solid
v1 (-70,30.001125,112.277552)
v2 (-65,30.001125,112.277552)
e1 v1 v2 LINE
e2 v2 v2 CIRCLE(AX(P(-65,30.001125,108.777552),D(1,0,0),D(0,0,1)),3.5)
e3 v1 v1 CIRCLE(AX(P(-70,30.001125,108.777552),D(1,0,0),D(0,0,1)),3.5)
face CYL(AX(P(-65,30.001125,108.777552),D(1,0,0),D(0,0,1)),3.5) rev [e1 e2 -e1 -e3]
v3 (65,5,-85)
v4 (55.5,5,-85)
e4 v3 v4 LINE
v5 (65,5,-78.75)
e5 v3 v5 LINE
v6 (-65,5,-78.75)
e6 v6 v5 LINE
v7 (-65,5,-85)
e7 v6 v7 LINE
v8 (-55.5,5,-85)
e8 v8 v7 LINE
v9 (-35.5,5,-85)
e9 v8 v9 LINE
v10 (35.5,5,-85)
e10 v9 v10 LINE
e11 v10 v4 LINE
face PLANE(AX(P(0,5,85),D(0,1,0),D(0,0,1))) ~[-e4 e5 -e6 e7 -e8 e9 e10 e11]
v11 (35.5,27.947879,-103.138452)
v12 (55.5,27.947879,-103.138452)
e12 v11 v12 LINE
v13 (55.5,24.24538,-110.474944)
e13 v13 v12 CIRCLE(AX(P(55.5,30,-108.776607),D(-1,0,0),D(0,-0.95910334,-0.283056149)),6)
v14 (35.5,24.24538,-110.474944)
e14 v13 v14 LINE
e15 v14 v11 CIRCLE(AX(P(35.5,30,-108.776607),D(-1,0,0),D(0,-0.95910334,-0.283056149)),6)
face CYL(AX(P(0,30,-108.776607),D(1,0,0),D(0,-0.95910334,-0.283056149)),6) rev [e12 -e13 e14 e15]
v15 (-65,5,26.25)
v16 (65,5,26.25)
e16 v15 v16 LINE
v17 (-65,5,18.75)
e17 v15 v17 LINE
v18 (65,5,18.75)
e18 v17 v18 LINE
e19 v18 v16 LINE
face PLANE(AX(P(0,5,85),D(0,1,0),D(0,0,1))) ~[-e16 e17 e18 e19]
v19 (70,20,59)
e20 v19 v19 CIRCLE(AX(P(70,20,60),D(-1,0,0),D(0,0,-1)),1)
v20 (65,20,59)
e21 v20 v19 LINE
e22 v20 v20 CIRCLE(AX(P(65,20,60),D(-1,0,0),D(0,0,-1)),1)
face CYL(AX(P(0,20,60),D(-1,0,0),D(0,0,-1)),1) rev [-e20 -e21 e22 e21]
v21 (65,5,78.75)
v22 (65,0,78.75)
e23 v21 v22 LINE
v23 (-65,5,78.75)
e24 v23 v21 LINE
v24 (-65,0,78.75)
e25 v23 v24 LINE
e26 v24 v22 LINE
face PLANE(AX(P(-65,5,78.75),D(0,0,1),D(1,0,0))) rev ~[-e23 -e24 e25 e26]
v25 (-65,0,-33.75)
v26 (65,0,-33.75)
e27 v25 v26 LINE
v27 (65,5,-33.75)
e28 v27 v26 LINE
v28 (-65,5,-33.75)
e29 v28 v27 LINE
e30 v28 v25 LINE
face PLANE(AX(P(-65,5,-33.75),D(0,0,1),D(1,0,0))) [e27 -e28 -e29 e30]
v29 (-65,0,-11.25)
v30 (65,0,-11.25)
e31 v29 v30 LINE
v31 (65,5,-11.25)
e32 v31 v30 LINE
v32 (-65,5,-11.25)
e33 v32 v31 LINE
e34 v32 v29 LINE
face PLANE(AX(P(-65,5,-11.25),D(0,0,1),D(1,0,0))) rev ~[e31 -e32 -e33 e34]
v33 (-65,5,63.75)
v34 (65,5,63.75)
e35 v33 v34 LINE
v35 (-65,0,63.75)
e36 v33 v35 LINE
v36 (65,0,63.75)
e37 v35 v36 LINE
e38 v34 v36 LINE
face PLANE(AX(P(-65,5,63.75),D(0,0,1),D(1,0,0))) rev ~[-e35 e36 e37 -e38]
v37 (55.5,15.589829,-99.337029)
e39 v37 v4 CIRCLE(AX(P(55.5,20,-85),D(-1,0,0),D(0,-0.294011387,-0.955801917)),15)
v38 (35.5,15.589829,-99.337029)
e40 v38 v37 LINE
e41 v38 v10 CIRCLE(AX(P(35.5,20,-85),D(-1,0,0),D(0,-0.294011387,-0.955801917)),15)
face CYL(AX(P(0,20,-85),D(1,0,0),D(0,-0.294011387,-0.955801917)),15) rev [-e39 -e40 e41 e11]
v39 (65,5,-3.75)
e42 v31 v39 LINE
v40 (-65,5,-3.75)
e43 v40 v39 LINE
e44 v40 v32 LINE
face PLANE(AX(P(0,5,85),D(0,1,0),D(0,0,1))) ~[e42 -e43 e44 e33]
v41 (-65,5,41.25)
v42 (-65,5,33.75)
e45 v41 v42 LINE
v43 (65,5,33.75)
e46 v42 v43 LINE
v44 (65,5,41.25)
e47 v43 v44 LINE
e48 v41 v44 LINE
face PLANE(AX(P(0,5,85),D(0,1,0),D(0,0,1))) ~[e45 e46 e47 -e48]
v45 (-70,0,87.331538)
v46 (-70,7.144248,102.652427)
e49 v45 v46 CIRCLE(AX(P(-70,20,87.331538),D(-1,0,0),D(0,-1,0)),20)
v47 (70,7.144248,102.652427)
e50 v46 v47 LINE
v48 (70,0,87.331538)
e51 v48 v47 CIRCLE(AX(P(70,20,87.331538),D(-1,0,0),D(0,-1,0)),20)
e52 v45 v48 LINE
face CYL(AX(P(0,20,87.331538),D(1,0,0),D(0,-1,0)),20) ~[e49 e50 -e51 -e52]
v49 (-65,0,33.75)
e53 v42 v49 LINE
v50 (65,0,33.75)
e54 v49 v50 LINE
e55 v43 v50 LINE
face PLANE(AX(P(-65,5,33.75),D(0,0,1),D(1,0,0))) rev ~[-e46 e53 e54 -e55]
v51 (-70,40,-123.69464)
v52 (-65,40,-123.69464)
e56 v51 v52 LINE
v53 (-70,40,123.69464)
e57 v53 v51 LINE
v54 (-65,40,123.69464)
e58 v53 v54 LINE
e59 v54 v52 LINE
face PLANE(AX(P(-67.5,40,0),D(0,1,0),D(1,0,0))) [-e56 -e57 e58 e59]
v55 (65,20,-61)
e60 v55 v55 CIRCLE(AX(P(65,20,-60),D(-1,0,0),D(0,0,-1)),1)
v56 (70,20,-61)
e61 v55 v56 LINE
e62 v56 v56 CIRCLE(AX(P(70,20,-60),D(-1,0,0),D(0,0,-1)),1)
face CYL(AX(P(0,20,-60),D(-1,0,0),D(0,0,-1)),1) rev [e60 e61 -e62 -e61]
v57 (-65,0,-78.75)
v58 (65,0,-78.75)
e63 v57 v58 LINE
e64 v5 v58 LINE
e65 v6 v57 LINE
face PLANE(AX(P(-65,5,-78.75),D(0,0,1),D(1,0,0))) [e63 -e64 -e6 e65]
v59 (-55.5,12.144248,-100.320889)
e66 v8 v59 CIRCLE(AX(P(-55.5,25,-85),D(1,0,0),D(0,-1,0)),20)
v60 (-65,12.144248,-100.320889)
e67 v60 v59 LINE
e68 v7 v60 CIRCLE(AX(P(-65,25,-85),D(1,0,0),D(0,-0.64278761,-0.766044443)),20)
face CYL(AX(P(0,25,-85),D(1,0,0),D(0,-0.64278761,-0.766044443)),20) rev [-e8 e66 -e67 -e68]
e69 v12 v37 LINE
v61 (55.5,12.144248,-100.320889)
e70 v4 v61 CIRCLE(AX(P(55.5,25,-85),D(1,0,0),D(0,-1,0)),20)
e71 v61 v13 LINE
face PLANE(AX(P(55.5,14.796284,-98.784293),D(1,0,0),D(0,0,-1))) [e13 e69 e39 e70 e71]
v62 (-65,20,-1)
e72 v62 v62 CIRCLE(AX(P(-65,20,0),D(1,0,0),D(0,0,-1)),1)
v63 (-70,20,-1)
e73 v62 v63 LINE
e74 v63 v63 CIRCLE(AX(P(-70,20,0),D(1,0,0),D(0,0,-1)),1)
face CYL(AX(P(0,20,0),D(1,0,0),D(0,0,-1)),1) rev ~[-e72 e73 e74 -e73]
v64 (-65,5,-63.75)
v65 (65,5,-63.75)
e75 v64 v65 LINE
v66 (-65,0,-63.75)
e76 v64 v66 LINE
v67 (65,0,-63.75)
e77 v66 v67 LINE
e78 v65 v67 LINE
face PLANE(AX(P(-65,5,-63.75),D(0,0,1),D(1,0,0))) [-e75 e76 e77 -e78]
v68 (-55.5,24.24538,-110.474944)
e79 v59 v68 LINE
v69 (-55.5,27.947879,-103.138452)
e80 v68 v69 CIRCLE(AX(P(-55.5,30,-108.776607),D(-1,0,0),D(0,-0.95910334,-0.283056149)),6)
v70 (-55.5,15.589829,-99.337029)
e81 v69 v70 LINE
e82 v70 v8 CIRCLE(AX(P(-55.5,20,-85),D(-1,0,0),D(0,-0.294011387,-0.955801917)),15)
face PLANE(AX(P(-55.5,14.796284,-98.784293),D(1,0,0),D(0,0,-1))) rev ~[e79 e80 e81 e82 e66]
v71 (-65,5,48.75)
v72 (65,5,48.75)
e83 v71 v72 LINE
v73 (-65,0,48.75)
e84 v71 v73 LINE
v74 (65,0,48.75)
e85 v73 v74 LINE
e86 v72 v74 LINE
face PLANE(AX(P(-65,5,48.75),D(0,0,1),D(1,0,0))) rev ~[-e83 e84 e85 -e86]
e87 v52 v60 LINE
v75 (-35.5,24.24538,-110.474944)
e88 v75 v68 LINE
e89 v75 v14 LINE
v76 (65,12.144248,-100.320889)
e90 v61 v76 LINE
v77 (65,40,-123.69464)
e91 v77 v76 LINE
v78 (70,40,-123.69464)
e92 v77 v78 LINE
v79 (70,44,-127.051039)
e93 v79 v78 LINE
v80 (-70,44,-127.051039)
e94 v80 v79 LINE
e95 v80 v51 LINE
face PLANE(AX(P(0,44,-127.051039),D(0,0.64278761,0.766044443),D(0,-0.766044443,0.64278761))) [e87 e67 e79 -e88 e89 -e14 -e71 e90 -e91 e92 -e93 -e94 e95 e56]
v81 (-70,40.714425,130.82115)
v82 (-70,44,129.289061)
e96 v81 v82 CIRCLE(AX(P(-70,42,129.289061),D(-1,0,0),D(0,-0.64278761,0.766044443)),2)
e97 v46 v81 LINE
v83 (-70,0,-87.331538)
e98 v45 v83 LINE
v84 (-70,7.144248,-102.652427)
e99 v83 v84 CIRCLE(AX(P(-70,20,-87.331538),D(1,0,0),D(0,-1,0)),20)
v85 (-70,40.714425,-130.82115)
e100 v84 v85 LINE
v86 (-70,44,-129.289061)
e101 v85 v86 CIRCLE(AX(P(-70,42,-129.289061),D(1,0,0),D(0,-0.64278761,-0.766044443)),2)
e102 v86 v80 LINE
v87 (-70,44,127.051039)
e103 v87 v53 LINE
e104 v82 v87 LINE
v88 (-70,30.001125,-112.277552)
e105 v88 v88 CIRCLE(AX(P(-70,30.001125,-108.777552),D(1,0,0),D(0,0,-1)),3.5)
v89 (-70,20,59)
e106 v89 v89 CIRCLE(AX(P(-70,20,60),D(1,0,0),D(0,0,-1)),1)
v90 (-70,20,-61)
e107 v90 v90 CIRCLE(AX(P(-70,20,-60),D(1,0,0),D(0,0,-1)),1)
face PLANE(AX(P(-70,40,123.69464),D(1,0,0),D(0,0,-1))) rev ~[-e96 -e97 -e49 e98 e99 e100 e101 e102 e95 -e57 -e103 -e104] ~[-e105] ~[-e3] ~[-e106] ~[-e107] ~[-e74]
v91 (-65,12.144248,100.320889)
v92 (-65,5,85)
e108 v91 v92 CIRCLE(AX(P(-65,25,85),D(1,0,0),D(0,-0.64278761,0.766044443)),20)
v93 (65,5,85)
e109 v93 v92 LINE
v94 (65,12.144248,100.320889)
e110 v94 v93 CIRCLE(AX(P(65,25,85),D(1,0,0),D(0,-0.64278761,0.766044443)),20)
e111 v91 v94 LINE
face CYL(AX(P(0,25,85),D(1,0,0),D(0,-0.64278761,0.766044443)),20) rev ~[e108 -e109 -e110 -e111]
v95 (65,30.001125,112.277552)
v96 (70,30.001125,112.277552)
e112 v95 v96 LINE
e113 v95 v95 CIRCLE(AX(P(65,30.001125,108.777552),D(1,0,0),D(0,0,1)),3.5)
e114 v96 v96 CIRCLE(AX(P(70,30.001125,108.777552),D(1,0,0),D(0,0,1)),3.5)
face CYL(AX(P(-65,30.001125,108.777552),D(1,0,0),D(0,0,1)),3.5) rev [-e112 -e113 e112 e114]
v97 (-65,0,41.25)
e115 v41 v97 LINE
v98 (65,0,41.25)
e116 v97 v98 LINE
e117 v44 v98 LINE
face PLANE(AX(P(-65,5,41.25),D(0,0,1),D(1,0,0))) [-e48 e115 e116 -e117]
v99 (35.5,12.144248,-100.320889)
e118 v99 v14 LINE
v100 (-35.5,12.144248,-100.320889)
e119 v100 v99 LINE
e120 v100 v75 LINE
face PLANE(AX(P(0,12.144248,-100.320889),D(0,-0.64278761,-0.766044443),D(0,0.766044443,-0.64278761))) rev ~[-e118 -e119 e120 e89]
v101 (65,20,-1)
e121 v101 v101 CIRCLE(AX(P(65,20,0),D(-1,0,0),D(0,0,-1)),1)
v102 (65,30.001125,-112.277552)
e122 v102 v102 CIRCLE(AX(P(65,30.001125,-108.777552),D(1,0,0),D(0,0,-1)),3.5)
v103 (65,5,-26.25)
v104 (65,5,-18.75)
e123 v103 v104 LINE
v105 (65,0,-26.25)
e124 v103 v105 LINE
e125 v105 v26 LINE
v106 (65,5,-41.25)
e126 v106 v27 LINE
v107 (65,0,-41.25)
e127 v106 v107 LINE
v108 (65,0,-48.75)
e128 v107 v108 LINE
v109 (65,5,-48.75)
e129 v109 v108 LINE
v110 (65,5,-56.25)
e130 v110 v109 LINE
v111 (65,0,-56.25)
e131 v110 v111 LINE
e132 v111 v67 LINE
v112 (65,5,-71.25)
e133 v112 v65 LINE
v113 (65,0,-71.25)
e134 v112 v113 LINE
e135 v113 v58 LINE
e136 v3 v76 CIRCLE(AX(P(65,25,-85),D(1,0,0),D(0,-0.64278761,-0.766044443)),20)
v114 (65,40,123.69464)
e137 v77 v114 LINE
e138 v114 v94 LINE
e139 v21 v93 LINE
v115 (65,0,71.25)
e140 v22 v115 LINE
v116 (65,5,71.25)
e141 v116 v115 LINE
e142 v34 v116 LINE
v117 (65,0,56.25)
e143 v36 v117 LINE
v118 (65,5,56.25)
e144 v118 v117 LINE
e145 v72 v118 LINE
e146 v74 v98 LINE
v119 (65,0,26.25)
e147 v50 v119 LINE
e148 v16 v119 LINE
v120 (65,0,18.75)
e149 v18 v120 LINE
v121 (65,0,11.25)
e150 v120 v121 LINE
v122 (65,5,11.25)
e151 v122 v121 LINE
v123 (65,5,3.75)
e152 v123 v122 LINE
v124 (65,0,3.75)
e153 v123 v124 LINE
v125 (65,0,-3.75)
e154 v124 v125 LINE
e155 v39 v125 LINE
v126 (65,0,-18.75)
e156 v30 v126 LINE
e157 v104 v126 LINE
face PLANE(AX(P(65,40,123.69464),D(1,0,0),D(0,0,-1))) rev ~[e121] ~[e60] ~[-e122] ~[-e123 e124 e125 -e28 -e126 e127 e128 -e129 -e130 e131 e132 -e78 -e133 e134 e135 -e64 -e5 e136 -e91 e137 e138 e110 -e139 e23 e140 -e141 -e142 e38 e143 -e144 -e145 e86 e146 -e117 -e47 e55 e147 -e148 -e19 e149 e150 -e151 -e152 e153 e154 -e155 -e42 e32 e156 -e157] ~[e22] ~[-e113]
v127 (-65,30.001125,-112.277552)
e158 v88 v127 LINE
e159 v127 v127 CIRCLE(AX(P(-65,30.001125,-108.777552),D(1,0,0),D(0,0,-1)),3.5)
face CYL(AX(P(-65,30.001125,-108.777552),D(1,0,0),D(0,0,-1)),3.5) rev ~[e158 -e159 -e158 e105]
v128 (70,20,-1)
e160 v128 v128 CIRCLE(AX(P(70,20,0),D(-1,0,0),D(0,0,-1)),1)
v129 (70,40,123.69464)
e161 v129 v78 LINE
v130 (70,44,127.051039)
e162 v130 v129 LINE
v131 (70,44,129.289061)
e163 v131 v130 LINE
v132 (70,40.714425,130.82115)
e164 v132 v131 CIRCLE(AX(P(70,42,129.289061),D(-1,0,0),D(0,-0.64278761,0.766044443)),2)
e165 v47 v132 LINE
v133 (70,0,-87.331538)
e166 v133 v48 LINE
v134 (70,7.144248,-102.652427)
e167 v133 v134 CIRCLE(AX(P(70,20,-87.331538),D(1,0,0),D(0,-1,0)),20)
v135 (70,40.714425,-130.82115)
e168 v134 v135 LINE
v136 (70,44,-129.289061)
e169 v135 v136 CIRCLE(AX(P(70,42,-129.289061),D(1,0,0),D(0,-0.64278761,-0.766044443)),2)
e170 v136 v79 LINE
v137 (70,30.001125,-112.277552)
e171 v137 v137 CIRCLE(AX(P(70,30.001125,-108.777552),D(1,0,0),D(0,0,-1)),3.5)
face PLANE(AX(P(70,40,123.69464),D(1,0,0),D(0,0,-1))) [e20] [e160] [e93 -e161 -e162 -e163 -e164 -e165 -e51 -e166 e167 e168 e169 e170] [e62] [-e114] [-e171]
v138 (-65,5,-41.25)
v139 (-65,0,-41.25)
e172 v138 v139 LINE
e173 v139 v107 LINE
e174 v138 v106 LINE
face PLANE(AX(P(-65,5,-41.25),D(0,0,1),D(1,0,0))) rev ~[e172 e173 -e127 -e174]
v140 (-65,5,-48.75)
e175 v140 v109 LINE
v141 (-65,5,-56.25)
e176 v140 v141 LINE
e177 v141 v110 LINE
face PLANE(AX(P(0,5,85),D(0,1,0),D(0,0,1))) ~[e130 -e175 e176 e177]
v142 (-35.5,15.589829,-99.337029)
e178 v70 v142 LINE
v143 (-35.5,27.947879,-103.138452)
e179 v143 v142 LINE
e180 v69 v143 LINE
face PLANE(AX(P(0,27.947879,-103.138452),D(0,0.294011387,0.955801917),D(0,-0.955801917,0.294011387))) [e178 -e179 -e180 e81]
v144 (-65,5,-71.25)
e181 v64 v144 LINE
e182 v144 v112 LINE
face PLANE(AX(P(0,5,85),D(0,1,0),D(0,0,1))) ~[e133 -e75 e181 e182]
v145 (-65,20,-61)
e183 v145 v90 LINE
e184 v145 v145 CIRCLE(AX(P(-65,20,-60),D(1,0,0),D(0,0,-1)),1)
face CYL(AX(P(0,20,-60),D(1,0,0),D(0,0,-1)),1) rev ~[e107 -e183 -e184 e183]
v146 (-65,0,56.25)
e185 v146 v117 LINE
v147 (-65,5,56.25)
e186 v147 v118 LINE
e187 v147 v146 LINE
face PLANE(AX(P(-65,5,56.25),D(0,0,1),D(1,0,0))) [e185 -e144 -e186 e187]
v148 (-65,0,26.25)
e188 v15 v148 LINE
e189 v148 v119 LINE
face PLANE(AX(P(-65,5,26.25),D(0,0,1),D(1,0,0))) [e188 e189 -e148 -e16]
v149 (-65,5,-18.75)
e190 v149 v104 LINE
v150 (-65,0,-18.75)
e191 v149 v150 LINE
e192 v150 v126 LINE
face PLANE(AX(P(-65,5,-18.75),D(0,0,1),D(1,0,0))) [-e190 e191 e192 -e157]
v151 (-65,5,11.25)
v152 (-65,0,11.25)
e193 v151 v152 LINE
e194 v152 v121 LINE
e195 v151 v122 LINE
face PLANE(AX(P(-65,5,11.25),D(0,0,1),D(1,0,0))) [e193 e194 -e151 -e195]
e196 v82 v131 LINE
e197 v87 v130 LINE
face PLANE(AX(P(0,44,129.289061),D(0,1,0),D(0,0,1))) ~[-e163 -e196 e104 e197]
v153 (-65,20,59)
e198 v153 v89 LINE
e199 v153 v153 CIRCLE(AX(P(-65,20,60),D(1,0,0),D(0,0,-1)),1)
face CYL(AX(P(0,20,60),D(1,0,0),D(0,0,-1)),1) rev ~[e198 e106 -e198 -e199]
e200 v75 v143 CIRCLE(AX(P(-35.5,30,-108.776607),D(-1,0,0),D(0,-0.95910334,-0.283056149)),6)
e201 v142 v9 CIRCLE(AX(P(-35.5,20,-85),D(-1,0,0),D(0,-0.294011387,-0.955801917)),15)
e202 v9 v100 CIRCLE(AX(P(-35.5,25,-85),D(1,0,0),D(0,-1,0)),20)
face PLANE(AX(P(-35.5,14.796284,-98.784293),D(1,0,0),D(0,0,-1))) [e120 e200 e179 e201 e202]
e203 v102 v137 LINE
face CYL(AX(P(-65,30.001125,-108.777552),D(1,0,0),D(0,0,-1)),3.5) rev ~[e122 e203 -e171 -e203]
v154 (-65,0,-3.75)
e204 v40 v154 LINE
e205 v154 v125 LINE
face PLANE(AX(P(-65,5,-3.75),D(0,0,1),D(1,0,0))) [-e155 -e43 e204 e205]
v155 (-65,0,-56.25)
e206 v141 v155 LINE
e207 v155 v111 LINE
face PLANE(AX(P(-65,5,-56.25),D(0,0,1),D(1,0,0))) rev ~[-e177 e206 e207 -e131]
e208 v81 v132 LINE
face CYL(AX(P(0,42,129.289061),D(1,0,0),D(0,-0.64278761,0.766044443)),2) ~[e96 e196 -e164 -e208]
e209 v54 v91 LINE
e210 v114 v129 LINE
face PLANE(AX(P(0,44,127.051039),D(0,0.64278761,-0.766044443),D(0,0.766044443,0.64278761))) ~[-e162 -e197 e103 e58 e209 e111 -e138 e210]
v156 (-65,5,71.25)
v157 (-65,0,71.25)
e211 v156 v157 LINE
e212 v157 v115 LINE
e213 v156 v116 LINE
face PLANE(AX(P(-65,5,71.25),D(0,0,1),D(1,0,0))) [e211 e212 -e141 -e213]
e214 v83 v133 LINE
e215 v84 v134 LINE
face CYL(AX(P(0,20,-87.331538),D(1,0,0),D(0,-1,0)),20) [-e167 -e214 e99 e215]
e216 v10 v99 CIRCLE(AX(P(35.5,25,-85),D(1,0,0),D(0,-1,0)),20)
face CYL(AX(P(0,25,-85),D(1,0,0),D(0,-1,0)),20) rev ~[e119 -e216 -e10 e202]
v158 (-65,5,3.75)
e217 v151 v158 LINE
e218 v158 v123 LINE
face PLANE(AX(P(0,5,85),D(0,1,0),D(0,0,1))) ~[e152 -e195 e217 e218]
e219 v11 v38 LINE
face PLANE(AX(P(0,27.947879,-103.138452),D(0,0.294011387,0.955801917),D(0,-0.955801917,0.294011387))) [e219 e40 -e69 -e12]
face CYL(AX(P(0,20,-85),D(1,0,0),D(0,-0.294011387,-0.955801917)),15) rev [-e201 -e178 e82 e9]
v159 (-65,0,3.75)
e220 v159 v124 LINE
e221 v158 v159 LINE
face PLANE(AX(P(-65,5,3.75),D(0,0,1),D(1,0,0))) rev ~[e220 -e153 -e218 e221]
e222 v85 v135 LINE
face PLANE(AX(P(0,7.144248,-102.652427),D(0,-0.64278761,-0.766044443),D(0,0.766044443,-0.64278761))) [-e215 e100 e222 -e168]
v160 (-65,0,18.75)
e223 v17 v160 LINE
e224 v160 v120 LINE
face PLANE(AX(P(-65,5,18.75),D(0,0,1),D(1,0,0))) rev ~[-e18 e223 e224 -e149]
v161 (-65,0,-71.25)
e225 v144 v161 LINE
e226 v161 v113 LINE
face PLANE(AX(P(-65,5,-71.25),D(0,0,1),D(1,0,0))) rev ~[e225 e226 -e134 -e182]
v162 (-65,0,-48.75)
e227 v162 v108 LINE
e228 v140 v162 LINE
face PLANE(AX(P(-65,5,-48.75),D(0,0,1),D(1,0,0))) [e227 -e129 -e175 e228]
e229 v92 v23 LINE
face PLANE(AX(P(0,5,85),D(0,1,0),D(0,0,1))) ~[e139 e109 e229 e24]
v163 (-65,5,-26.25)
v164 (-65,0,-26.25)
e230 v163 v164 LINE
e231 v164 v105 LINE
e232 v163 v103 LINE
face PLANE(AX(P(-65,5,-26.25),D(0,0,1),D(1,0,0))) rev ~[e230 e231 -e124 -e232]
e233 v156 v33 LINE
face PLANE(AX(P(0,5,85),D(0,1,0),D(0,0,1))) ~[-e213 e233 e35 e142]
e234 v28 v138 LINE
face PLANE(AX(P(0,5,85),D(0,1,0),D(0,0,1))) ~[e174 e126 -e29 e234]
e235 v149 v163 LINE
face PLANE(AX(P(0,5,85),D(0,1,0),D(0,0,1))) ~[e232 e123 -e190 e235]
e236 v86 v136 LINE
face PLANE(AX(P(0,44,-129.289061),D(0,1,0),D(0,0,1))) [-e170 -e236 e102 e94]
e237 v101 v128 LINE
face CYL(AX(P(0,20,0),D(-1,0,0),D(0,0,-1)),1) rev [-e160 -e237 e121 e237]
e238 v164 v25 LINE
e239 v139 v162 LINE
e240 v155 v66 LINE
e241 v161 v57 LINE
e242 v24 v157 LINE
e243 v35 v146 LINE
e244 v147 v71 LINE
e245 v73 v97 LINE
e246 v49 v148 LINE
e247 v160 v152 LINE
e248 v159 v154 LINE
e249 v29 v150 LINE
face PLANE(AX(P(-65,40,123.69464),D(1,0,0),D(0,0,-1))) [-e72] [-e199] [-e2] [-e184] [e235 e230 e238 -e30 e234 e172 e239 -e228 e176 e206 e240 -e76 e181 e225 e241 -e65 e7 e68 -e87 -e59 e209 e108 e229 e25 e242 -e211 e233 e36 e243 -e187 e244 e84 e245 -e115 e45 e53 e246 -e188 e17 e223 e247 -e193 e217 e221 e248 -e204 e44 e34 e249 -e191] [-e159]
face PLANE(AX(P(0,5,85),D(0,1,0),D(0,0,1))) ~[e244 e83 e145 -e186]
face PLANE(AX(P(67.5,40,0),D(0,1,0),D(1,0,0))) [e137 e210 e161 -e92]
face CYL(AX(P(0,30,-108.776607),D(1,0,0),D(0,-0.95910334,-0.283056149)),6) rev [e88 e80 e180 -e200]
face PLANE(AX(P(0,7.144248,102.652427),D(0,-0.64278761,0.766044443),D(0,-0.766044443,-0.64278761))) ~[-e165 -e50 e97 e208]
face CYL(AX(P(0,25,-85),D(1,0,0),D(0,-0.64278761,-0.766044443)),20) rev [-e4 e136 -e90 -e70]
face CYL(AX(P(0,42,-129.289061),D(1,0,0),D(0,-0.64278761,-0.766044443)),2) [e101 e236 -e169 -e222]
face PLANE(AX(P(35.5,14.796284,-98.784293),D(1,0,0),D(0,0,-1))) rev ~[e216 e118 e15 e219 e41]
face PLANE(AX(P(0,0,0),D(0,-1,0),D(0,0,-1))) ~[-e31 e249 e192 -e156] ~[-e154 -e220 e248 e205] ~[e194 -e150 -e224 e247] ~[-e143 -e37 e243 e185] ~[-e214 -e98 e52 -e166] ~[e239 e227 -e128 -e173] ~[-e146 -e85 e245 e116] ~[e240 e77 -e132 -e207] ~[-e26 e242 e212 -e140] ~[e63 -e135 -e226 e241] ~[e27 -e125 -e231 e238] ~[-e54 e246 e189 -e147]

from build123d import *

# Parameters (mm, degrees)
BOSS_EXTRUDE4_DEPTH          = 70
BOSS_EXTRU_5_DEPTH           = 55.5
BOSS_EXTRU_5_DEPTH_BACK      = 55.5
ENL_V_MAT_EXTRU_3_DEPTH      = 35.5
ENL_V_MAT_EXTRU_3_DEPTH_BACK = 35.5
BOSS_EXTRU_3_REACH           = 156.068
ESQUISSE9_W                  = 5
ESQUISSE9_H                  = 247.389280508
ESQUISSE8_R                  = 1
ENL_V_MAT_EXTRU_1_DEPTH      = 156.154173773
ENL_V_MAT_EXTRU_1_DEPTH_BACK = 156.154173773
ESQUISSE17_W                 = 130
ESQUISSE17_H                 = 7.5
ENL_V_MAT_EXTRU_2_DEPTH      = 154.81098023
ENL_V_MAT_EXTRU_2_DEPTH_BACK = 154.81098023
ESQUISSE19_R                 = 3.5
ENL_V_MAT_EXTRU_4_DEPTH      = 194.385153616


with BuildPart() as part:
    # Sketch4 → Boss-Extrude4 (new, symmetric)
    with BuildSketch(Plane(origin=(0, 0, 0), x_dir=(0, 0, -1), z_dir=(1, 0, 0))):
        with BuildLine():
            Line((0, 0), (87.331538291, 0))
            ThreePointArc((87.331538291, 0), (95.783903526, 1.873844259), (102.652427153, 7.144247806))
            Line((102.652427153, 7.144247806), (130.821150271, 40.714424781))
            ThreePointArc((130.821150271, 40.714424781), (131.101676959, 42.845236523), (129.289061385, 44))
            Line((129.289061385, 44), (127.051038779, 44))
            Line((127.051038779, 44), (100.320888862, 12.144247806))
            ThreePointArc((100.320888862, 12.144247806), (93.452365235, 6.873844259), (85, 5))
            Line((85, 5), (0, 5))
            Line((0, 5), (0, 0))
        make_face()
    boss_extrude4 = extrude(amount=BOSS_EXTRUDE4_DEPTH, both=True)

    # Esquisse15 → Boss.-Extru.5 (add, two sides)
    with BuildSketch(Plane(origin=(0, 0, 0), x_dir=(0, 0, -1), z_dir=(1, 0, 0))) as boss_extru_5_sk:
        with BuildLine():
            Line((100.320888862, 12.144247806), (110.47494439, 24.245379961))
            ThreePointArc((110.47494439, 24.245379961), (106.073337597, 24.643477634), (103.138451771, 27.94787914))
            Line((103.138451771, 27.94787914), (99.337028752, 15.589829192))
            ThreePointArc((99.337028752, 15.589829192), (93.911998594, 7.934500381), (85, 5))
            ThreePointArc((85, 5), (93.452365235, 6.873844259), (100.320888862, 12.144247806))
        make_face()
    extrude(amount=BOSS_EXTRU_5_DEPTH)
    extrude(boss_extru_5_sk.sketch, amount=-BOSS_EXTRU_5_DEPTH_BACK)

    # Esquisse18 → Enlèv. mat.-Extru.3 (cut, two sides)
    with BuildSketch(Plane(origin=(0, 0, 0), x_dir=(0, 0, -1), z_dir=(1, 0, 0))) as enl_v_mat_extru_3_sk:
        with BuildLine():
            Line((100.320888862, 12.144247806), (110.47494439, 24.245379961))
            ThreePointArc((110.47494439, 24.245379961), (106.073337597, 24.643477634), (103.138451771, 27.94787914))
            Line((103.138451771, 27.94787914), (99.337028752, 15.589829192))
            ThreePointArc((99.337028752, 15.589829192), (93.911998594, 7.934500381), (85, 5))
            ThreePointArc((85, 5), (93.452365235, 6.873844259), (100.320888862, 12.144247806))
        make_face()
    extrude(amount=ENL_V_MAT_EXTRU_3_DEPTH, mode=Mode.SUBTRACT)
    extrude(enl_v_mat_extru_3_sk.sketch, amount=-ENL_V_MAT_EXTRU_3_DEPTH_BACK, mode=Mode.SUBTRACT)

    # Mirror2: Boss-Extrude4 across plane
    add(boss_extrude4.mirror(Plane(origin=(70, 5, 0), x_dir=(1, 0, 0), z_dir=(0, 0, -1))))

    # Esquisse9 → Boss.-Extru.3 (add, up to next)
    with BuildSketch(Plane(origin=(0, 40, 0), x_dir=(1, 0, 0), z_dir=(0, 1, 0)), mode=Mode.PRIVATE) as boss_extru_3_sk1:
        with Locations((67.5, 0)):
            Rectangle(ESQUISSE9_W, ESQUISSE9_H)
    boss_extru_3_tool1 = extrude(boss_extru_3_sk1.sketch, amount=-BOSS_EXTRU_3_REACH, mode=Mode.PRIVATE) - part.part
    # Esquisse9 → Boss.-Extru.3 (add, up to next)
    with BuildSketch(Plane(origin=(0, 40, 0), x_dir=(1, 0, 0), z_dir=(0, 1, 0)), mode=Mode.PRIVATE) as boss_extru_3_sk2:
        with Locations((-67.5, 0)):
            Rectangle(ESQUISSE9_W, ESQUISSE9_H)
    boss_extru_3_tool2 = extrude(boss_extru_3_sk2.sketch, amount=-BOSS_EXTRU_3_REACH, mode=Mode.PRIVATE) - part.part
    add(boss_extru_3_tool1.solids().sort_by_distance((67.5, 40, 0))[0])
    add(boss_extru_3_tool2.solids().sort_by_distance((-67.5, 40, 0))[0])

    # Esquisse8 → Enlèv. mat.-Extru.1 (cut, two sides)
    with BuildSketch(Plane(origin=(0, 0, 0), x_dir=(0, 0, -1), z_dir=(1, 0, 0))) as enl_v_mat_extru_1_sk:
        with Locations((0, 20)):
            Circle(ESQUISSE8_R)
        with Locations((60, 20)):
            Circle(ESQUISSE8_R)
        with Locations((-60, 20)):
            Circle(ESQUISSE8_R)
    extrude(amount=ENL_V_MAT_EXTRU_1_DEPTH, mode=Mode.SUBTRACT)
    extrude(enl_v_mat_extru_1_sk.sketch, amount=-ENL_V_MAT_EXTRU_1_DEPTH_BACK, mode=Mode.SUBTRACT)

    # Esquisse17 → Enlèv. mat.-Extru.2 (cut, two sides)
    with BuildSketch(Plane(origin=(0, 5, 0), x_dir=(1, 0, 0), z_dir=(0, 1, 0))) as enl_v_mat_extru_2_sk:
        Rectangle(ESQUISSE17_W, ESQUISSE17_H)
        with Locations((0, 15)):
            Rectangle(ESQUISSE17_W, ESQUISSE17_H)
        with Locations((0, 30)):
            Rectangle(ESQUISSE17_W, ESQUISSE17_H)
        with Locations((0, 45)):
            Rectangle(ESQUISSE17_W, ESQUISSE17_H)
        with Locations((0, 60)):
            Rectangle(ESQUISSE17_W, ESQUISSE17_H)
        with Locations((0, 75)):
            Rectangle(ESQUISSE17_W, ESQUISSE17_H)
        with Locations((0, -15)):
            Rectangle(ESQUISSE17_W, ESQUISSE17_H)
        with Locations((0, -30)):
            Rectangle(ESQUISSE17_W, ESQUISSE17_H)
        with Locations((0, -45)):
            Rectangle(ESQUISSE17_W, ESQUISSE17_H)
        with Locations((0, -60)):
            Rectangle(ESQUISSE17_W, ESQUISSE17_H)
        with Locations((0, -75)):
            Rectangle(ESQUISSE17_W, ESQUISSE17_H)
    extrude(amount=ENL_V_MAT_EXTRU_2_DEPTH, mode=Mode.SUBTRACT)
    extrude(enl_v_mat_extru_2_sk.sketch, amount=-ENL_V_MAT_EXTRU_2_DEPTH_BACK, mode=Mode.SUBTRACT)

    # Esquisse19 → Enlèv. mat.-Extru.4 (cut, symmetric)
    with BuildSketch(Plane(origin=(-65, 0, 0), x_dir=(0, 0, -1), z_dir=(1, 0, 0))):
        with Locations((108.777551806, 30.001125385)):
            Circle(ESQUISSE19_R)
    enl_v_mat_extru_4 = extrude(amount=ENL_V_MAT_EXTRU_4_DEPTH, both=True, mode=Mode.SUBTRACT)

    # Symétrie1: Enlèv. mat.-Extru.4 across plane
    add(enl_v_mat_extru_4.mirror(Plane.XY), mode=Mode.SUBTRACT)


solid = part.part
